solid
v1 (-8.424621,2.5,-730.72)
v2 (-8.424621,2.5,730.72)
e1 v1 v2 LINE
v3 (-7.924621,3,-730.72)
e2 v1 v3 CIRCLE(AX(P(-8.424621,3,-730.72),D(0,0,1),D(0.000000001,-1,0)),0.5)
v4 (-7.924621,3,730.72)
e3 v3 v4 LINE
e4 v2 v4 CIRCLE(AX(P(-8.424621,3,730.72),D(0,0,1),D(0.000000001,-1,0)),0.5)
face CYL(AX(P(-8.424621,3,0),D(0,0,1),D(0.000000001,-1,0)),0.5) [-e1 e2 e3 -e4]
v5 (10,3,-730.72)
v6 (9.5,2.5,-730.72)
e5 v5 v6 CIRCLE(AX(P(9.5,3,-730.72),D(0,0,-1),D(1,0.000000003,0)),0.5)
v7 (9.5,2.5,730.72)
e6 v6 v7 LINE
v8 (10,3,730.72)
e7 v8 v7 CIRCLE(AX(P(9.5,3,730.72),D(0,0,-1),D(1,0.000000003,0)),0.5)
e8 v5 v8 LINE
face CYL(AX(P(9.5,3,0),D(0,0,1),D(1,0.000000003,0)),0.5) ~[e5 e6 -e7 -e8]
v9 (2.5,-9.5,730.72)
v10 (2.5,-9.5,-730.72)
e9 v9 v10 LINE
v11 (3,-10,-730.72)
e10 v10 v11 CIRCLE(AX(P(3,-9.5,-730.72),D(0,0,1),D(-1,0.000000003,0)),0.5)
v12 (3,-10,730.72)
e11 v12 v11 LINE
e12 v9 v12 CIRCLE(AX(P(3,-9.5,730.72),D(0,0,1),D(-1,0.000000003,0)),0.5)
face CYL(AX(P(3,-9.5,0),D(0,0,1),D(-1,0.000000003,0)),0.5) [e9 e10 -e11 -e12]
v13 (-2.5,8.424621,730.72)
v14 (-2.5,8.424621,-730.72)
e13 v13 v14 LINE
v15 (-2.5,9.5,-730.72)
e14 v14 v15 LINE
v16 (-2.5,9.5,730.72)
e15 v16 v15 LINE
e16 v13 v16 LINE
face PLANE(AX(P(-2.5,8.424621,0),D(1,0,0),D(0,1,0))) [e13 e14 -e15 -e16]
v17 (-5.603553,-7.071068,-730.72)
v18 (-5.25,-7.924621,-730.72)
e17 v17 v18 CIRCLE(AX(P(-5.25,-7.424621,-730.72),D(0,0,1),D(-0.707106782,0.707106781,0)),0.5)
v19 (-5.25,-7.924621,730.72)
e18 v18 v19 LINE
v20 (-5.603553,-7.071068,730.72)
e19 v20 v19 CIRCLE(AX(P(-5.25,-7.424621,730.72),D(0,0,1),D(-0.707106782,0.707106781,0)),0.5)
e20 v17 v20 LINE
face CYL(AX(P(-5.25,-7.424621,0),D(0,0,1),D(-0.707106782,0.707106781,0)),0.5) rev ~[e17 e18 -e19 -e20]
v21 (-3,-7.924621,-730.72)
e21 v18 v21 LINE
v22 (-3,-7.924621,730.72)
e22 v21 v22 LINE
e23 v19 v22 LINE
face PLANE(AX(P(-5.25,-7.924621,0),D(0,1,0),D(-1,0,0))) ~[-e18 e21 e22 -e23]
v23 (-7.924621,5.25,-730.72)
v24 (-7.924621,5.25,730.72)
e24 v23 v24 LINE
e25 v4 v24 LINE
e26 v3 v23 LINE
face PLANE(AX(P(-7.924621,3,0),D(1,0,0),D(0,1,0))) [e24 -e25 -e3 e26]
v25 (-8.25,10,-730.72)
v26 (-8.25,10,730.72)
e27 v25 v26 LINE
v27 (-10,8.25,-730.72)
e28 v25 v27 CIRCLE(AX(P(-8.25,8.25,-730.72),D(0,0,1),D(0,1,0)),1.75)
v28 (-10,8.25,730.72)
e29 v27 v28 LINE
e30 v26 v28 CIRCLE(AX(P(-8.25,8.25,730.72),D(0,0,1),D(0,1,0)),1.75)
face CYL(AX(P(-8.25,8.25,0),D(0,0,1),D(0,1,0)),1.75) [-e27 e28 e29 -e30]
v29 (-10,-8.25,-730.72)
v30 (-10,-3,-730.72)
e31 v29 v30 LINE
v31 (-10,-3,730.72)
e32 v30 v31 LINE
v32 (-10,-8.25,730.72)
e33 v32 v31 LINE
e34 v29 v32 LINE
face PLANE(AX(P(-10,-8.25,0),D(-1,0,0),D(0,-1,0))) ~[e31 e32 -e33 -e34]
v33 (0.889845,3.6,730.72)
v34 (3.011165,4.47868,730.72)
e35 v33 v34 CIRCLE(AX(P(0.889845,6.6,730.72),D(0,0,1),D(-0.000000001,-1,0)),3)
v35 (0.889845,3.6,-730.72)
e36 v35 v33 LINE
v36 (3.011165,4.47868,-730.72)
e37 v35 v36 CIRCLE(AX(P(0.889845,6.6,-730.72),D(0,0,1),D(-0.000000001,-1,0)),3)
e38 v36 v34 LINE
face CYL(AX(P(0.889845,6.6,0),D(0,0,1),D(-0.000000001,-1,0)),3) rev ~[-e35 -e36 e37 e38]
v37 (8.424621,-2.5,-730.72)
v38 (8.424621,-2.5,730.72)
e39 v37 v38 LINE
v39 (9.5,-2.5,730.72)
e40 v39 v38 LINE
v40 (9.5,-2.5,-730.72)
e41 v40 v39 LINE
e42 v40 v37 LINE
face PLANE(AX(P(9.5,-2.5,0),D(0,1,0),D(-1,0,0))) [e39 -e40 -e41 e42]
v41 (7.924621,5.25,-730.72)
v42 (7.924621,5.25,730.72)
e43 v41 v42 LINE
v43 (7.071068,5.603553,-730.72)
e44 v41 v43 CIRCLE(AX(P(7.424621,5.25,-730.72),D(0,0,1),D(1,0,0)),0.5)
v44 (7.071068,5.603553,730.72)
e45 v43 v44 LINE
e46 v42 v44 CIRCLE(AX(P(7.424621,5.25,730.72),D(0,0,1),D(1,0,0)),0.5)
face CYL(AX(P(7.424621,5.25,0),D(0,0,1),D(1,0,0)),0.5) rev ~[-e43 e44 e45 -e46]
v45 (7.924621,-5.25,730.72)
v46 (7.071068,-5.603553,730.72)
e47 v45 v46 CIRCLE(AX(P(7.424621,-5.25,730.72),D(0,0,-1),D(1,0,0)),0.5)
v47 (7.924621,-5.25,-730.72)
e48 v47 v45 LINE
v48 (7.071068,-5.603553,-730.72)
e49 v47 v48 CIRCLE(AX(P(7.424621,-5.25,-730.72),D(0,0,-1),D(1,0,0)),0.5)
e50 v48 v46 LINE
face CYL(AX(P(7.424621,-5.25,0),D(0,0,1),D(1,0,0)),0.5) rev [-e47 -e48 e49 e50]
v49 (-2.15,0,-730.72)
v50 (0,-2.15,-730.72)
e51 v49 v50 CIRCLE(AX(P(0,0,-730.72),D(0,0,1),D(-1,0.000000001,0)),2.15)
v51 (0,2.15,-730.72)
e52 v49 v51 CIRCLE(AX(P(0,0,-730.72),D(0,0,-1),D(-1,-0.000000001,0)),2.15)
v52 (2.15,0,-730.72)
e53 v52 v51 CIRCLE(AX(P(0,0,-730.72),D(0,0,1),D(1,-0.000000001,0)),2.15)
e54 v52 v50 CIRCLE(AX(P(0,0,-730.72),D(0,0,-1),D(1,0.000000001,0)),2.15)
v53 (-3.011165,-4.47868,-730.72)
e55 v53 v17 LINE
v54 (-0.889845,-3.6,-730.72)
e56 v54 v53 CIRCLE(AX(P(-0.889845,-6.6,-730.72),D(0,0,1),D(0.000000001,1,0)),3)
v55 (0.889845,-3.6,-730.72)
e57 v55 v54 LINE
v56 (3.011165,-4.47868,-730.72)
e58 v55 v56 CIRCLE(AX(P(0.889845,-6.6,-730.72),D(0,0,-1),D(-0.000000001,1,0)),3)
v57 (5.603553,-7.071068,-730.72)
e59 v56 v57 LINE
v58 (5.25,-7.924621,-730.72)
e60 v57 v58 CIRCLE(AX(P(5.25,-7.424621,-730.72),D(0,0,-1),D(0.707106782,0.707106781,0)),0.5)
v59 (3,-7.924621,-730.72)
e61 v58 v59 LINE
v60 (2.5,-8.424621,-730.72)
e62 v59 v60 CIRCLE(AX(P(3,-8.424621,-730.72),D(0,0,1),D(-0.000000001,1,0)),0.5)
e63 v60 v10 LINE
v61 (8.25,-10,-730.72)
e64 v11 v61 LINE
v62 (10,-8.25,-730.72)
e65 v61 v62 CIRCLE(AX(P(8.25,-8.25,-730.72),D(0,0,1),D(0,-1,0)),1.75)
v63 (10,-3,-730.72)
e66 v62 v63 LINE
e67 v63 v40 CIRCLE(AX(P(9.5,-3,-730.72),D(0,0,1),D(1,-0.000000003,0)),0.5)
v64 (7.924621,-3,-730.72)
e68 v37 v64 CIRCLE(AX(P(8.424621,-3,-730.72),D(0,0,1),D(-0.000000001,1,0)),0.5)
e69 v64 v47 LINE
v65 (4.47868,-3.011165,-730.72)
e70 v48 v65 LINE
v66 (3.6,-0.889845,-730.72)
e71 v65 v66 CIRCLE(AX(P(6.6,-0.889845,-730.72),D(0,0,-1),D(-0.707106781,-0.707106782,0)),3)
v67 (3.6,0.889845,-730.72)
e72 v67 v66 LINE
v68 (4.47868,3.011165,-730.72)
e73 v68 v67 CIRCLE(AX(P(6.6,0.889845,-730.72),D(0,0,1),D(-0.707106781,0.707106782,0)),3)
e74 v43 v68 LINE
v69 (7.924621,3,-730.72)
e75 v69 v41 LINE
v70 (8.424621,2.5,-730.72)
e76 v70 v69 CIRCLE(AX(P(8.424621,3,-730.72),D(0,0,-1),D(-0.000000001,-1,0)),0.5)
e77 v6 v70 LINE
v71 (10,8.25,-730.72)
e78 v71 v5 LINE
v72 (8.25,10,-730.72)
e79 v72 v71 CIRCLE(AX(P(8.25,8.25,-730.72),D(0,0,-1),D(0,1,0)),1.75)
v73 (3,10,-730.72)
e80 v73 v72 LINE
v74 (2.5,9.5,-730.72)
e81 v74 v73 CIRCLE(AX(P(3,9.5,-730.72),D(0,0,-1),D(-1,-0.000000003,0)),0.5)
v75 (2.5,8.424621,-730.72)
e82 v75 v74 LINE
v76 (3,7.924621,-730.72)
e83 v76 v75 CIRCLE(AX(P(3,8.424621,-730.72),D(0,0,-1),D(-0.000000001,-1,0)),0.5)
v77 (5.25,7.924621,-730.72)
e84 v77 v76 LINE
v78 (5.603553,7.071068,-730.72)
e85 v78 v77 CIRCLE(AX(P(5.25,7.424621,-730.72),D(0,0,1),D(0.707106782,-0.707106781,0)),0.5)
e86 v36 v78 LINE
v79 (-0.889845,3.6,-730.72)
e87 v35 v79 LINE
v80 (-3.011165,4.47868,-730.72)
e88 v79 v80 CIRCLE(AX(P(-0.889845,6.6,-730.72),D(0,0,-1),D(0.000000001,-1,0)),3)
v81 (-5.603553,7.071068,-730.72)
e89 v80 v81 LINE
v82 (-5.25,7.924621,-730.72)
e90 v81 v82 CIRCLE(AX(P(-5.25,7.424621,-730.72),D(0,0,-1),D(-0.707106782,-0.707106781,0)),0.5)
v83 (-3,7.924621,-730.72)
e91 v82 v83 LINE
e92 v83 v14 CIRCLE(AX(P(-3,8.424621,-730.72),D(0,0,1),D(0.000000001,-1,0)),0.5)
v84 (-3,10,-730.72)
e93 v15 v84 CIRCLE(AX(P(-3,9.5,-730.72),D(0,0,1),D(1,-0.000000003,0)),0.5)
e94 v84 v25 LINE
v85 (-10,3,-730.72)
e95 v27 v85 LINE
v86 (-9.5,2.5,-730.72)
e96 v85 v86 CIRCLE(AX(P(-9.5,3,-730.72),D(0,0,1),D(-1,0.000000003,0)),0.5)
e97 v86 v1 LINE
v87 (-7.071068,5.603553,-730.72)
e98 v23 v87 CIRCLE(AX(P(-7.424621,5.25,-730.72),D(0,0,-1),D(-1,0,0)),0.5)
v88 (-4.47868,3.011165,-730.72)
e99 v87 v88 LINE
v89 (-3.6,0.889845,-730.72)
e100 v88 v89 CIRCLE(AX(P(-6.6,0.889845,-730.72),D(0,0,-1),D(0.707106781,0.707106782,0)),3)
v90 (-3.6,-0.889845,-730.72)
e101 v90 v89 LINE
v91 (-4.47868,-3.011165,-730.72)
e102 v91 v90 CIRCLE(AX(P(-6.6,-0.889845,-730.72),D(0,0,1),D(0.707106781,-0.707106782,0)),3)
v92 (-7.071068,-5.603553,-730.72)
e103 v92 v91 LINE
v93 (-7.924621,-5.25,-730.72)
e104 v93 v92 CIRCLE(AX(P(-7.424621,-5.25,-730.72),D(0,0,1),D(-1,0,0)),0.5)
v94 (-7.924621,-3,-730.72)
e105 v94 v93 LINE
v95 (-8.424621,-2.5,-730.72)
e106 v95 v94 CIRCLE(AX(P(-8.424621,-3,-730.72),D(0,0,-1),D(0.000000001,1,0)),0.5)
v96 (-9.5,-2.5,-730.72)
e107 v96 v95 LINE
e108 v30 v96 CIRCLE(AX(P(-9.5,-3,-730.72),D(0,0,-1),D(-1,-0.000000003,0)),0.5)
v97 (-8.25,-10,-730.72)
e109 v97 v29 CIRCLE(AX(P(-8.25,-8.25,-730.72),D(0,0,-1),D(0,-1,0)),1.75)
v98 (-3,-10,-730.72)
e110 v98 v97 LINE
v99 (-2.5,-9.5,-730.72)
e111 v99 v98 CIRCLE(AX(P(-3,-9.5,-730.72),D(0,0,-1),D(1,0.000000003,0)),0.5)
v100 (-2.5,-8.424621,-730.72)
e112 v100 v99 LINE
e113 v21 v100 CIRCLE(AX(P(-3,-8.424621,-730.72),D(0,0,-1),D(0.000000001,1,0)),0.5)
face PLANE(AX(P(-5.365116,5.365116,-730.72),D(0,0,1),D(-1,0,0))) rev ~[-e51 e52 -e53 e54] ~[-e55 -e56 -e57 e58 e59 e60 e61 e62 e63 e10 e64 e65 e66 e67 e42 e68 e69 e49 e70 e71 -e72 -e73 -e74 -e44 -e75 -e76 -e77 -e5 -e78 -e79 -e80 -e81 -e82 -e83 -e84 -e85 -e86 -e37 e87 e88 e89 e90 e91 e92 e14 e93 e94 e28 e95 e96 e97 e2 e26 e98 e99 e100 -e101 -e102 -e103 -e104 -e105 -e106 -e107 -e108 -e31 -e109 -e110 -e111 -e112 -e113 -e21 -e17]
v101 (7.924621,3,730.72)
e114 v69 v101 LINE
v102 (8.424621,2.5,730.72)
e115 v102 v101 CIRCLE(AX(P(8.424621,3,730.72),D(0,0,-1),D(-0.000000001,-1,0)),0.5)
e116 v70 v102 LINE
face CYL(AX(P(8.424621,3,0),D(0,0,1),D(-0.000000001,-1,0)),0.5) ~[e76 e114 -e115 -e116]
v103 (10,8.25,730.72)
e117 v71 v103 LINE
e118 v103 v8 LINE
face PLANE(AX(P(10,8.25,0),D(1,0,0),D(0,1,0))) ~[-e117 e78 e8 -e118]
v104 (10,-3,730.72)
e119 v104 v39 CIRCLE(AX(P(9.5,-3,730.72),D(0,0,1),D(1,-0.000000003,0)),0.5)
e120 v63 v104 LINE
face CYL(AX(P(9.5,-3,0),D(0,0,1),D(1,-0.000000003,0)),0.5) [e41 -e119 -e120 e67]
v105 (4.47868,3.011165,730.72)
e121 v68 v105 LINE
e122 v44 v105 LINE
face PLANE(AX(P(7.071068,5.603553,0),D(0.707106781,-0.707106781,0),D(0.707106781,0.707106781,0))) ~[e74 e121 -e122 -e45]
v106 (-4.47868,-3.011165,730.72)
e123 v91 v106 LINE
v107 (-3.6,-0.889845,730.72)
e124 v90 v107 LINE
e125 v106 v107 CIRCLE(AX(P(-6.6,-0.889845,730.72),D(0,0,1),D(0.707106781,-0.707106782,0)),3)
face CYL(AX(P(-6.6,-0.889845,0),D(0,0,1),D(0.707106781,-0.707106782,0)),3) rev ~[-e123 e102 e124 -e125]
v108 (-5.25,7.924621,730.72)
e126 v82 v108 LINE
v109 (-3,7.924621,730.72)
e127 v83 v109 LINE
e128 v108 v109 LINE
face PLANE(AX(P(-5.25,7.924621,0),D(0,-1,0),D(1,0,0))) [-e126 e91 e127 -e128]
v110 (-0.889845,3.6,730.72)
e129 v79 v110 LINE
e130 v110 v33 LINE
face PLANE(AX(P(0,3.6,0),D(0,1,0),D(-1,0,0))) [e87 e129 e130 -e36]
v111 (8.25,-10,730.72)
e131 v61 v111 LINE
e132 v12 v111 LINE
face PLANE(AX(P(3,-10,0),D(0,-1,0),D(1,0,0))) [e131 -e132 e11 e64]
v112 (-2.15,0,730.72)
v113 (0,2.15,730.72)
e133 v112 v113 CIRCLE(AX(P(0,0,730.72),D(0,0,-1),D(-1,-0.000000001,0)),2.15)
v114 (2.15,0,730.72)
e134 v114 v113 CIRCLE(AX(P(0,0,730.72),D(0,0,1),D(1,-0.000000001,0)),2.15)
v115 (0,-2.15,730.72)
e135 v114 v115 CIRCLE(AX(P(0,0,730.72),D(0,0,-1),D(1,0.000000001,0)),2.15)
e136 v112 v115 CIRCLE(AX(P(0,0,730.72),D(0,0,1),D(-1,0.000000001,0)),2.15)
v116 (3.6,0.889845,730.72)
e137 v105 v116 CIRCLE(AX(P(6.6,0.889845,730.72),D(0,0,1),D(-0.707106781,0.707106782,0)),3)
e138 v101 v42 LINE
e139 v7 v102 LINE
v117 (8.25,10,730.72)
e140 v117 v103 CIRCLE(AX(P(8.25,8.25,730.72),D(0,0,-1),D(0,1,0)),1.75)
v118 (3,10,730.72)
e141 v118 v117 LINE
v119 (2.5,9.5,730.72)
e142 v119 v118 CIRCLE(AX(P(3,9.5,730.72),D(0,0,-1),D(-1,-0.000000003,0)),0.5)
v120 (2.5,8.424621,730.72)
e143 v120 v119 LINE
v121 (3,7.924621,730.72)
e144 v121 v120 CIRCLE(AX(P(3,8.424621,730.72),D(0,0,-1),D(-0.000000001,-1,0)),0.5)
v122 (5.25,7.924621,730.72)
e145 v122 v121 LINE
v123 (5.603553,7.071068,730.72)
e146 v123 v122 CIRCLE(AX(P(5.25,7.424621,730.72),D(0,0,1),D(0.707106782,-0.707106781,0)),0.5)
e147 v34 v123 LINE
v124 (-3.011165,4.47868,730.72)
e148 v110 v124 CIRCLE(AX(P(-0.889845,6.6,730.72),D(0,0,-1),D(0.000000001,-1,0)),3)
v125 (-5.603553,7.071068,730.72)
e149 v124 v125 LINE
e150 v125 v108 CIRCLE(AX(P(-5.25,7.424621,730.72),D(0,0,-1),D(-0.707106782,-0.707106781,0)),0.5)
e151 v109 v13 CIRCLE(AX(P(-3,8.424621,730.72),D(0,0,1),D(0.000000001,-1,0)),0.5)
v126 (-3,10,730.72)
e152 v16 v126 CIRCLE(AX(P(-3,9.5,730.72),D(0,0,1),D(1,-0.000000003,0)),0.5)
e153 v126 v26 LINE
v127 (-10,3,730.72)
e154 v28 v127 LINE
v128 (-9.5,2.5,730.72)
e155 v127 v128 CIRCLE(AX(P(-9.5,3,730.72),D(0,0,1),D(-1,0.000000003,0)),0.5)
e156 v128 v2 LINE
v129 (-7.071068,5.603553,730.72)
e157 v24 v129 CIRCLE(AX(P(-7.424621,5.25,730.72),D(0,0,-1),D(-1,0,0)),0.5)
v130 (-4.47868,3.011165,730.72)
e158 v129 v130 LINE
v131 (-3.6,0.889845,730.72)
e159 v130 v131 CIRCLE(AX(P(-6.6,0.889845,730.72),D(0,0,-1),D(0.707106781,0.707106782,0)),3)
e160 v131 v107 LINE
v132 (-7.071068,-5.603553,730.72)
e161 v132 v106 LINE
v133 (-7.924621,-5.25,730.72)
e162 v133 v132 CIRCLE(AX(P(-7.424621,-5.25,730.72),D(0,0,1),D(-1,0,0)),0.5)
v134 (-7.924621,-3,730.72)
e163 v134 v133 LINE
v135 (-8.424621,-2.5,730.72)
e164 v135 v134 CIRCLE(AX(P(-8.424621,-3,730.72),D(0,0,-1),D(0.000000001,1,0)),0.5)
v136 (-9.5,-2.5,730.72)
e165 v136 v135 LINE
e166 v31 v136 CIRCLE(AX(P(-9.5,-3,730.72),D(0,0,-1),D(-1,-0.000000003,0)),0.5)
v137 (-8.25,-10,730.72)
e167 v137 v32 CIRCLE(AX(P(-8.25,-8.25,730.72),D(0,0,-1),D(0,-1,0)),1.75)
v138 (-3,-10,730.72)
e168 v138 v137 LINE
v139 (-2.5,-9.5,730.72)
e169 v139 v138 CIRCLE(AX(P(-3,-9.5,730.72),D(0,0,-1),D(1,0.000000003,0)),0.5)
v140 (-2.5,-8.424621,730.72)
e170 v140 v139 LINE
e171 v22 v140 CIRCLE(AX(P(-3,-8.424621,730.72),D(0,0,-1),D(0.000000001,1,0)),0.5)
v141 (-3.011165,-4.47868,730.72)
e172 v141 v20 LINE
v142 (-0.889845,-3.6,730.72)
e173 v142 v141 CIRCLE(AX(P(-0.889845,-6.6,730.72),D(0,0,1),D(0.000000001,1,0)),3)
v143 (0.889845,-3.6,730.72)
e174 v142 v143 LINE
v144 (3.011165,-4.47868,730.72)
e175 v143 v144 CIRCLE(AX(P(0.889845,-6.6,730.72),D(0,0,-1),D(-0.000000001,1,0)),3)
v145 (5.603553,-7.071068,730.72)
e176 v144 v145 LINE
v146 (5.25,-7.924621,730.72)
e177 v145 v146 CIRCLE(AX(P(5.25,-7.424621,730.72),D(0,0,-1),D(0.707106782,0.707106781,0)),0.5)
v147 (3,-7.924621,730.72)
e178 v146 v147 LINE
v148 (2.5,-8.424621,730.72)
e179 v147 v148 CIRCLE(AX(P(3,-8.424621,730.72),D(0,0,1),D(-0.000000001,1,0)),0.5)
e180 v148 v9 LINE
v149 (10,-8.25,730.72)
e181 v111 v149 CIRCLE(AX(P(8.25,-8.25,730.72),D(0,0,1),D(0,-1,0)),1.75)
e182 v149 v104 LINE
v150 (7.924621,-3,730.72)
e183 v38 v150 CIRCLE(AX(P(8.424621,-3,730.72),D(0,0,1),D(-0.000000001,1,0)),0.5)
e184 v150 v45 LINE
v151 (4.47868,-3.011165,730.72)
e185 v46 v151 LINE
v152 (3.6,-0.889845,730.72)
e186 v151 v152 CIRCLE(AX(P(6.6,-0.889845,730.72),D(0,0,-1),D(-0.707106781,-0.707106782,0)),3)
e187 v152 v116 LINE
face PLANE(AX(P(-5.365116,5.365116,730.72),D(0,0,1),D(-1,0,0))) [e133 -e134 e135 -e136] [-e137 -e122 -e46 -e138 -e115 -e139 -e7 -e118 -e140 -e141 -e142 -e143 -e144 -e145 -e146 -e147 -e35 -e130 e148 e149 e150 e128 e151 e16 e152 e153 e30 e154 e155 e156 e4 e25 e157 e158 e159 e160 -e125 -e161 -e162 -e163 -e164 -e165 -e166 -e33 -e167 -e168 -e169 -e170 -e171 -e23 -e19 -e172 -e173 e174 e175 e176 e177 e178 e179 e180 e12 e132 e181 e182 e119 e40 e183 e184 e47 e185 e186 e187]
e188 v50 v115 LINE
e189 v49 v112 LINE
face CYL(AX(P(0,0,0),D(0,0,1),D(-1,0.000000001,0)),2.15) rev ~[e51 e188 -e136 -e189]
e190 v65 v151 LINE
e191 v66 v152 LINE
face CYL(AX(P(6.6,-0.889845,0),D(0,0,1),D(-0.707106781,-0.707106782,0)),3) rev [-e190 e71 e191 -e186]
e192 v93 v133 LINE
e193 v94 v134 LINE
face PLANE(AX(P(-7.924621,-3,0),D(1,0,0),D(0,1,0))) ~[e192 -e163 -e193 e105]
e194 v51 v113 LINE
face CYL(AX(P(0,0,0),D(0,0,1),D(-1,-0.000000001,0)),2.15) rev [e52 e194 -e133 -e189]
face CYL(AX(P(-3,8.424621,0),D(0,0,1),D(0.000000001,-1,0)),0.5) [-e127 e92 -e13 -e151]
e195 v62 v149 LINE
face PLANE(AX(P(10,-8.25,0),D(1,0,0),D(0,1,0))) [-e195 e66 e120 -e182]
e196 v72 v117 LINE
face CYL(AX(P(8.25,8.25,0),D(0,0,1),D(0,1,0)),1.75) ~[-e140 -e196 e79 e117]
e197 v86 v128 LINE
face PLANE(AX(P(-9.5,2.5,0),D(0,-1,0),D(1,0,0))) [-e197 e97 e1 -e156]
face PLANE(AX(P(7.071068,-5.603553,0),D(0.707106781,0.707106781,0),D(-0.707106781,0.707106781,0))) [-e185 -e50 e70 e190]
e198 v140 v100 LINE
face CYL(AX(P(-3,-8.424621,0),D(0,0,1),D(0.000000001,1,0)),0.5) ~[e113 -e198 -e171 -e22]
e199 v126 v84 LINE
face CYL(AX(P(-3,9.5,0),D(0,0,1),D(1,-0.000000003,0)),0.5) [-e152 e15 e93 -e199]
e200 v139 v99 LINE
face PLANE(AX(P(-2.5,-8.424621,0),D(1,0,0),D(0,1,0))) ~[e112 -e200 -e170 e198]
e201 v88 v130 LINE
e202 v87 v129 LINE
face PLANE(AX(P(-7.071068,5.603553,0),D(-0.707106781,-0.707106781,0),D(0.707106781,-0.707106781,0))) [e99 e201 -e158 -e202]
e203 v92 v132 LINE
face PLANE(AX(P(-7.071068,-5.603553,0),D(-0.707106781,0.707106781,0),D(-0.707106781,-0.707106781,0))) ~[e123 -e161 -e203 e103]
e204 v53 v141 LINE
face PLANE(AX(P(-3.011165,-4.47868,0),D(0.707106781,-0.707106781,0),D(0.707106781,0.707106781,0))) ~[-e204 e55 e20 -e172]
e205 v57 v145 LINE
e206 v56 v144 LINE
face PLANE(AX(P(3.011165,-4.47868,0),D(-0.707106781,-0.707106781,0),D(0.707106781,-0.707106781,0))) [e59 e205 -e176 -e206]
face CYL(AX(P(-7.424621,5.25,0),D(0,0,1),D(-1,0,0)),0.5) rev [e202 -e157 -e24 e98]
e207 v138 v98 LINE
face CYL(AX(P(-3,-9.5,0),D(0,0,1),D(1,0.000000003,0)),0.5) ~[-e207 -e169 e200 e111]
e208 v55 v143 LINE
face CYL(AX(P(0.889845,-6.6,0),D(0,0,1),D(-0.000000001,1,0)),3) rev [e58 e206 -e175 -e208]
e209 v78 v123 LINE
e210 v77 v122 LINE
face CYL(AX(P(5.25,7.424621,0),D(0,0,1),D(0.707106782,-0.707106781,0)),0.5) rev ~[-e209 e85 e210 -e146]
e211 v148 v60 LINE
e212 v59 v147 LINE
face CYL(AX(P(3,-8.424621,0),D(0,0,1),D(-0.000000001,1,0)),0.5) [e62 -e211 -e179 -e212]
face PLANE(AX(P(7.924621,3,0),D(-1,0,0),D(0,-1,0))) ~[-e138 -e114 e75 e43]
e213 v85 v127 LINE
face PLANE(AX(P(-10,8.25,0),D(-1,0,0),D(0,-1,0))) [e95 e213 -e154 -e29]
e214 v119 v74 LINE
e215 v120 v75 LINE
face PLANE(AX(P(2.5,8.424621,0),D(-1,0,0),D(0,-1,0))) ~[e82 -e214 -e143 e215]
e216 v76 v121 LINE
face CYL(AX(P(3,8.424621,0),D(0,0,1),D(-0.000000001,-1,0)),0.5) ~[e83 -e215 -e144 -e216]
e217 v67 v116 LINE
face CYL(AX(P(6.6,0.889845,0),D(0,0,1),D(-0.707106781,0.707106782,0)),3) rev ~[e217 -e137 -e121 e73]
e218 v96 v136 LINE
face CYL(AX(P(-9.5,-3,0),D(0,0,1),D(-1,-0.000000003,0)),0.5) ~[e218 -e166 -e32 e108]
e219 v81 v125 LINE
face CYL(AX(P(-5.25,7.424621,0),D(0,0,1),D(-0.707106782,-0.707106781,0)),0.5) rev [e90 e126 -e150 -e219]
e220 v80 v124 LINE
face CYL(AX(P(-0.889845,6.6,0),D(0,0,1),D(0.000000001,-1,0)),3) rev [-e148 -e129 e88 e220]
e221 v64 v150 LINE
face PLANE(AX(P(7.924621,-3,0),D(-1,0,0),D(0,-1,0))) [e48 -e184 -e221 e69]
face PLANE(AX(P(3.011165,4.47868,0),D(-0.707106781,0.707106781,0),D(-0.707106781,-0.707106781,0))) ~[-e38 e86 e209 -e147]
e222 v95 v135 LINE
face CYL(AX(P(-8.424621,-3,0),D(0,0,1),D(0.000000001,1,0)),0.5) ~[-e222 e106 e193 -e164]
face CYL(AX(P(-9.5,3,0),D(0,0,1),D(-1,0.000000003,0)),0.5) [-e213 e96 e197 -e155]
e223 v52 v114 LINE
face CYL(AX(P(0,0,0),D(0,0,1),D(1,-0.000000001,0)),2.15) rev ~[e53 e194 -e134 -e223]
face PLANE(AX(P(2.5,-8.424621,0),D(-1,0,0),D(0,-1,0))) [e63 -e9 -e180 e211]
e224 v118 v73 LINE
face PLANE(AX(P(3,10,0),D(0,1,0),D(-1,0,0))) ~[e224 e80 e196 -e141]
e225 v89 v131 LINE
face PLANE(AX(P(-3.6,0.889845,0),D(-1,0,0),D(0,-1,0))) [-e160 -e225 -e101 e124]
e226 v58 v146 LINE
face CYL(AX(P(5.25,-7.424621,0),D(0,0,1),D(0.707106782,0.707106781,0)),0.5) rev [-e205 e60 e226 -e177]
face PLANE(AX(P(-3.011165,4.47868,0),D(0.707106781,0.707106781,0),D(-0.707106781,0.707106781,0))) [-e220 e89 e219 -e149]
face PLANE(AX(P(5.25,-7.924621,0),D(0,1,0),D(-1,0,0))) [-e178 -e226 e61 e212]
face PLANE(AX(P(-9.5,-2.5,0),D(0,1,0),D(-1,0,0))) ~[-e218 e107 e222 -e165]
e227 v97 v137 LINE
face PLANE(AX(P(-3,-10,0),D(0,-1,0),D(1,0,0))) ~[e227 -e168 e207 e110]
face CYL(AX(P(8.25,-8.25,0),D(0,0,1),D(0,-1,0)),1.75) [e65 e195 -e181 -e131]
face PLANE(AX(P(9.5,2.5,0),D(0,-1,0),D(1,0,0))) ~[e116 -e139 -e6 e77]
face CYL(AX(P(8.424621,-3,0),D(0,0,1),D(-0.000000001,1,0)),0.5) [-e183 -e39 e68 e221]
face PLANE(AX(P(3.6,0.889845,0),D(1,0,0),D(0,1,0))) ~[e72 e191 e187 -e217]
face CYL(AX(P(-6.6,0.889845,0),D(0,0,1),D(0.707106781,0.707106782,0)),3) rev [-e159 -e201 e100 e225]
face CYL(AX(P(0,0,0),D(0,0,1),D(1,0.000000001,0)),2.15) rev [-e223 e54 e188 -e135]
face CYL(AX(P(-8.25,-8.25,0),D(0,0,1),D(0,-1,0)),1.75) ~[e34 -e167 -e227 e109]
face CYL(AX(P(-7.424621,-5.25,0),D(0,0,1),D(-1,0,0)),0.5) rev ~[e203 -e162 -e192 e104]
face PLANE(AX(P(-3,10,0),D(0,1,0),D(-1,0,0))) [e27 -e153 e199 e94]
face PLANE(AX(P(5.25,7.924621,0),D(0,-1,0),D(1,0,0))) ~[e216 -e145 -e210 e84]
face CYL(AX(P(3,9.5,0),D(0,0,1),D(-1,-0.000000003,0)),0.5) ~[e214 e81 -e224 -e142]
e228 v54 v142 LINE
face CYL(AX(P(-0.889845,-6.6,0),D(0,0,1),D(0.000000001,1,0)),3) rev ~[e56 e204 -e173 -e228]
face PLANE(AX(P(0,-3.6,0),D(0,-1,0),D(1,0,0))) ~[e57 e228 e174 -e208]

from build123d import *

# Parameters (mm, degrees)
BOSS_EXTRUDE1_DEPTH = 730.72


with BuildPart() as part:
    # Sketch4 → Boss-Extrude1 (new, symmetric)
    with BuildSketch(Plane.XY):
        with BuildLine():
            Line((3, -10), (8.25, -10))
            ThreePointArc((8.25, -10), (9.487436867, -9.487436867), (10, -8.25))
            Line((10, -8.25), (10, -3))
            ThreePointArc((10, -3), (9.853553391, -2.646446609), (9.5, -2.5))
            Line((9.5, -2.5), (8.424621202, -2.5))
            ThreePointArc((8.424621202, -2.5), (8.071067812, -2.646446609), (7.924621202, -3))
            Line((7.924621202, -3), (7.924621202, -5.25))
            ThreePointArc((7.924621202, -5.25), (7.615962919, -5.711939766), (7.071067812, -5.603553391))
            Line((7.071067812, -5.603553391), (4.478679656, -3.011165235))
            ThreePointArc((4.478679656, -3.011165235), (3.828361402, -2.037895189), (3.6, -0.889844892))
            Line((3.6, -0.889844892), (3.6, 0))
            Line((3.6, 0), (2.15, 0))
            ThreePointArc((2.15, 0), (1.52027958, -1.52027958), (0, -2.15))
            Line((0, -2.15), (0, -3.6))
            Line((0, -3.6), (0.889844892, -3.6))
            ThreePointArc((0.889844892, -3.6), (2.037895189, -3.828361402), (3.011165235, -4.478679656))
            Line((3.011165235, -4.478679656), (5.603553391, -7.071067812))
            ThreePointArc((5.603553391, -7.071067812), (5.711939766, -7.615962919), (5.25, -7.924621202))
            Line((5.25, -7.924621202), (3, -7.924621202))
            ThreePointArc((3, -7.924621202), (2.646446609, -8.071067812), (2.5, -8.424621202))
            Line((2.5, -8.424621202), (2.5, -9.5))
            ThreePointArc((2.5, -9.5), (2.646446609, -9.853553391), (3, -10))
        make_face()
    extrude(amount=BOSS_EXTRUDE1_DEPTH, both=True)

    # Mirror1: part across plane


with BuildPart() as part_1:
    add(part.part)
    add(part.part.mirror(Plane(origin=(0, 0, 0), x_dir=(0, 0, 1), z_dir=(1, 0, 0))))

    # Mirror2: part across plane


with BuildPart() as part_2:
    add(part_1.part)
    add(part_1.part.mirror(Plane.ZX))


solid = part_2.part
